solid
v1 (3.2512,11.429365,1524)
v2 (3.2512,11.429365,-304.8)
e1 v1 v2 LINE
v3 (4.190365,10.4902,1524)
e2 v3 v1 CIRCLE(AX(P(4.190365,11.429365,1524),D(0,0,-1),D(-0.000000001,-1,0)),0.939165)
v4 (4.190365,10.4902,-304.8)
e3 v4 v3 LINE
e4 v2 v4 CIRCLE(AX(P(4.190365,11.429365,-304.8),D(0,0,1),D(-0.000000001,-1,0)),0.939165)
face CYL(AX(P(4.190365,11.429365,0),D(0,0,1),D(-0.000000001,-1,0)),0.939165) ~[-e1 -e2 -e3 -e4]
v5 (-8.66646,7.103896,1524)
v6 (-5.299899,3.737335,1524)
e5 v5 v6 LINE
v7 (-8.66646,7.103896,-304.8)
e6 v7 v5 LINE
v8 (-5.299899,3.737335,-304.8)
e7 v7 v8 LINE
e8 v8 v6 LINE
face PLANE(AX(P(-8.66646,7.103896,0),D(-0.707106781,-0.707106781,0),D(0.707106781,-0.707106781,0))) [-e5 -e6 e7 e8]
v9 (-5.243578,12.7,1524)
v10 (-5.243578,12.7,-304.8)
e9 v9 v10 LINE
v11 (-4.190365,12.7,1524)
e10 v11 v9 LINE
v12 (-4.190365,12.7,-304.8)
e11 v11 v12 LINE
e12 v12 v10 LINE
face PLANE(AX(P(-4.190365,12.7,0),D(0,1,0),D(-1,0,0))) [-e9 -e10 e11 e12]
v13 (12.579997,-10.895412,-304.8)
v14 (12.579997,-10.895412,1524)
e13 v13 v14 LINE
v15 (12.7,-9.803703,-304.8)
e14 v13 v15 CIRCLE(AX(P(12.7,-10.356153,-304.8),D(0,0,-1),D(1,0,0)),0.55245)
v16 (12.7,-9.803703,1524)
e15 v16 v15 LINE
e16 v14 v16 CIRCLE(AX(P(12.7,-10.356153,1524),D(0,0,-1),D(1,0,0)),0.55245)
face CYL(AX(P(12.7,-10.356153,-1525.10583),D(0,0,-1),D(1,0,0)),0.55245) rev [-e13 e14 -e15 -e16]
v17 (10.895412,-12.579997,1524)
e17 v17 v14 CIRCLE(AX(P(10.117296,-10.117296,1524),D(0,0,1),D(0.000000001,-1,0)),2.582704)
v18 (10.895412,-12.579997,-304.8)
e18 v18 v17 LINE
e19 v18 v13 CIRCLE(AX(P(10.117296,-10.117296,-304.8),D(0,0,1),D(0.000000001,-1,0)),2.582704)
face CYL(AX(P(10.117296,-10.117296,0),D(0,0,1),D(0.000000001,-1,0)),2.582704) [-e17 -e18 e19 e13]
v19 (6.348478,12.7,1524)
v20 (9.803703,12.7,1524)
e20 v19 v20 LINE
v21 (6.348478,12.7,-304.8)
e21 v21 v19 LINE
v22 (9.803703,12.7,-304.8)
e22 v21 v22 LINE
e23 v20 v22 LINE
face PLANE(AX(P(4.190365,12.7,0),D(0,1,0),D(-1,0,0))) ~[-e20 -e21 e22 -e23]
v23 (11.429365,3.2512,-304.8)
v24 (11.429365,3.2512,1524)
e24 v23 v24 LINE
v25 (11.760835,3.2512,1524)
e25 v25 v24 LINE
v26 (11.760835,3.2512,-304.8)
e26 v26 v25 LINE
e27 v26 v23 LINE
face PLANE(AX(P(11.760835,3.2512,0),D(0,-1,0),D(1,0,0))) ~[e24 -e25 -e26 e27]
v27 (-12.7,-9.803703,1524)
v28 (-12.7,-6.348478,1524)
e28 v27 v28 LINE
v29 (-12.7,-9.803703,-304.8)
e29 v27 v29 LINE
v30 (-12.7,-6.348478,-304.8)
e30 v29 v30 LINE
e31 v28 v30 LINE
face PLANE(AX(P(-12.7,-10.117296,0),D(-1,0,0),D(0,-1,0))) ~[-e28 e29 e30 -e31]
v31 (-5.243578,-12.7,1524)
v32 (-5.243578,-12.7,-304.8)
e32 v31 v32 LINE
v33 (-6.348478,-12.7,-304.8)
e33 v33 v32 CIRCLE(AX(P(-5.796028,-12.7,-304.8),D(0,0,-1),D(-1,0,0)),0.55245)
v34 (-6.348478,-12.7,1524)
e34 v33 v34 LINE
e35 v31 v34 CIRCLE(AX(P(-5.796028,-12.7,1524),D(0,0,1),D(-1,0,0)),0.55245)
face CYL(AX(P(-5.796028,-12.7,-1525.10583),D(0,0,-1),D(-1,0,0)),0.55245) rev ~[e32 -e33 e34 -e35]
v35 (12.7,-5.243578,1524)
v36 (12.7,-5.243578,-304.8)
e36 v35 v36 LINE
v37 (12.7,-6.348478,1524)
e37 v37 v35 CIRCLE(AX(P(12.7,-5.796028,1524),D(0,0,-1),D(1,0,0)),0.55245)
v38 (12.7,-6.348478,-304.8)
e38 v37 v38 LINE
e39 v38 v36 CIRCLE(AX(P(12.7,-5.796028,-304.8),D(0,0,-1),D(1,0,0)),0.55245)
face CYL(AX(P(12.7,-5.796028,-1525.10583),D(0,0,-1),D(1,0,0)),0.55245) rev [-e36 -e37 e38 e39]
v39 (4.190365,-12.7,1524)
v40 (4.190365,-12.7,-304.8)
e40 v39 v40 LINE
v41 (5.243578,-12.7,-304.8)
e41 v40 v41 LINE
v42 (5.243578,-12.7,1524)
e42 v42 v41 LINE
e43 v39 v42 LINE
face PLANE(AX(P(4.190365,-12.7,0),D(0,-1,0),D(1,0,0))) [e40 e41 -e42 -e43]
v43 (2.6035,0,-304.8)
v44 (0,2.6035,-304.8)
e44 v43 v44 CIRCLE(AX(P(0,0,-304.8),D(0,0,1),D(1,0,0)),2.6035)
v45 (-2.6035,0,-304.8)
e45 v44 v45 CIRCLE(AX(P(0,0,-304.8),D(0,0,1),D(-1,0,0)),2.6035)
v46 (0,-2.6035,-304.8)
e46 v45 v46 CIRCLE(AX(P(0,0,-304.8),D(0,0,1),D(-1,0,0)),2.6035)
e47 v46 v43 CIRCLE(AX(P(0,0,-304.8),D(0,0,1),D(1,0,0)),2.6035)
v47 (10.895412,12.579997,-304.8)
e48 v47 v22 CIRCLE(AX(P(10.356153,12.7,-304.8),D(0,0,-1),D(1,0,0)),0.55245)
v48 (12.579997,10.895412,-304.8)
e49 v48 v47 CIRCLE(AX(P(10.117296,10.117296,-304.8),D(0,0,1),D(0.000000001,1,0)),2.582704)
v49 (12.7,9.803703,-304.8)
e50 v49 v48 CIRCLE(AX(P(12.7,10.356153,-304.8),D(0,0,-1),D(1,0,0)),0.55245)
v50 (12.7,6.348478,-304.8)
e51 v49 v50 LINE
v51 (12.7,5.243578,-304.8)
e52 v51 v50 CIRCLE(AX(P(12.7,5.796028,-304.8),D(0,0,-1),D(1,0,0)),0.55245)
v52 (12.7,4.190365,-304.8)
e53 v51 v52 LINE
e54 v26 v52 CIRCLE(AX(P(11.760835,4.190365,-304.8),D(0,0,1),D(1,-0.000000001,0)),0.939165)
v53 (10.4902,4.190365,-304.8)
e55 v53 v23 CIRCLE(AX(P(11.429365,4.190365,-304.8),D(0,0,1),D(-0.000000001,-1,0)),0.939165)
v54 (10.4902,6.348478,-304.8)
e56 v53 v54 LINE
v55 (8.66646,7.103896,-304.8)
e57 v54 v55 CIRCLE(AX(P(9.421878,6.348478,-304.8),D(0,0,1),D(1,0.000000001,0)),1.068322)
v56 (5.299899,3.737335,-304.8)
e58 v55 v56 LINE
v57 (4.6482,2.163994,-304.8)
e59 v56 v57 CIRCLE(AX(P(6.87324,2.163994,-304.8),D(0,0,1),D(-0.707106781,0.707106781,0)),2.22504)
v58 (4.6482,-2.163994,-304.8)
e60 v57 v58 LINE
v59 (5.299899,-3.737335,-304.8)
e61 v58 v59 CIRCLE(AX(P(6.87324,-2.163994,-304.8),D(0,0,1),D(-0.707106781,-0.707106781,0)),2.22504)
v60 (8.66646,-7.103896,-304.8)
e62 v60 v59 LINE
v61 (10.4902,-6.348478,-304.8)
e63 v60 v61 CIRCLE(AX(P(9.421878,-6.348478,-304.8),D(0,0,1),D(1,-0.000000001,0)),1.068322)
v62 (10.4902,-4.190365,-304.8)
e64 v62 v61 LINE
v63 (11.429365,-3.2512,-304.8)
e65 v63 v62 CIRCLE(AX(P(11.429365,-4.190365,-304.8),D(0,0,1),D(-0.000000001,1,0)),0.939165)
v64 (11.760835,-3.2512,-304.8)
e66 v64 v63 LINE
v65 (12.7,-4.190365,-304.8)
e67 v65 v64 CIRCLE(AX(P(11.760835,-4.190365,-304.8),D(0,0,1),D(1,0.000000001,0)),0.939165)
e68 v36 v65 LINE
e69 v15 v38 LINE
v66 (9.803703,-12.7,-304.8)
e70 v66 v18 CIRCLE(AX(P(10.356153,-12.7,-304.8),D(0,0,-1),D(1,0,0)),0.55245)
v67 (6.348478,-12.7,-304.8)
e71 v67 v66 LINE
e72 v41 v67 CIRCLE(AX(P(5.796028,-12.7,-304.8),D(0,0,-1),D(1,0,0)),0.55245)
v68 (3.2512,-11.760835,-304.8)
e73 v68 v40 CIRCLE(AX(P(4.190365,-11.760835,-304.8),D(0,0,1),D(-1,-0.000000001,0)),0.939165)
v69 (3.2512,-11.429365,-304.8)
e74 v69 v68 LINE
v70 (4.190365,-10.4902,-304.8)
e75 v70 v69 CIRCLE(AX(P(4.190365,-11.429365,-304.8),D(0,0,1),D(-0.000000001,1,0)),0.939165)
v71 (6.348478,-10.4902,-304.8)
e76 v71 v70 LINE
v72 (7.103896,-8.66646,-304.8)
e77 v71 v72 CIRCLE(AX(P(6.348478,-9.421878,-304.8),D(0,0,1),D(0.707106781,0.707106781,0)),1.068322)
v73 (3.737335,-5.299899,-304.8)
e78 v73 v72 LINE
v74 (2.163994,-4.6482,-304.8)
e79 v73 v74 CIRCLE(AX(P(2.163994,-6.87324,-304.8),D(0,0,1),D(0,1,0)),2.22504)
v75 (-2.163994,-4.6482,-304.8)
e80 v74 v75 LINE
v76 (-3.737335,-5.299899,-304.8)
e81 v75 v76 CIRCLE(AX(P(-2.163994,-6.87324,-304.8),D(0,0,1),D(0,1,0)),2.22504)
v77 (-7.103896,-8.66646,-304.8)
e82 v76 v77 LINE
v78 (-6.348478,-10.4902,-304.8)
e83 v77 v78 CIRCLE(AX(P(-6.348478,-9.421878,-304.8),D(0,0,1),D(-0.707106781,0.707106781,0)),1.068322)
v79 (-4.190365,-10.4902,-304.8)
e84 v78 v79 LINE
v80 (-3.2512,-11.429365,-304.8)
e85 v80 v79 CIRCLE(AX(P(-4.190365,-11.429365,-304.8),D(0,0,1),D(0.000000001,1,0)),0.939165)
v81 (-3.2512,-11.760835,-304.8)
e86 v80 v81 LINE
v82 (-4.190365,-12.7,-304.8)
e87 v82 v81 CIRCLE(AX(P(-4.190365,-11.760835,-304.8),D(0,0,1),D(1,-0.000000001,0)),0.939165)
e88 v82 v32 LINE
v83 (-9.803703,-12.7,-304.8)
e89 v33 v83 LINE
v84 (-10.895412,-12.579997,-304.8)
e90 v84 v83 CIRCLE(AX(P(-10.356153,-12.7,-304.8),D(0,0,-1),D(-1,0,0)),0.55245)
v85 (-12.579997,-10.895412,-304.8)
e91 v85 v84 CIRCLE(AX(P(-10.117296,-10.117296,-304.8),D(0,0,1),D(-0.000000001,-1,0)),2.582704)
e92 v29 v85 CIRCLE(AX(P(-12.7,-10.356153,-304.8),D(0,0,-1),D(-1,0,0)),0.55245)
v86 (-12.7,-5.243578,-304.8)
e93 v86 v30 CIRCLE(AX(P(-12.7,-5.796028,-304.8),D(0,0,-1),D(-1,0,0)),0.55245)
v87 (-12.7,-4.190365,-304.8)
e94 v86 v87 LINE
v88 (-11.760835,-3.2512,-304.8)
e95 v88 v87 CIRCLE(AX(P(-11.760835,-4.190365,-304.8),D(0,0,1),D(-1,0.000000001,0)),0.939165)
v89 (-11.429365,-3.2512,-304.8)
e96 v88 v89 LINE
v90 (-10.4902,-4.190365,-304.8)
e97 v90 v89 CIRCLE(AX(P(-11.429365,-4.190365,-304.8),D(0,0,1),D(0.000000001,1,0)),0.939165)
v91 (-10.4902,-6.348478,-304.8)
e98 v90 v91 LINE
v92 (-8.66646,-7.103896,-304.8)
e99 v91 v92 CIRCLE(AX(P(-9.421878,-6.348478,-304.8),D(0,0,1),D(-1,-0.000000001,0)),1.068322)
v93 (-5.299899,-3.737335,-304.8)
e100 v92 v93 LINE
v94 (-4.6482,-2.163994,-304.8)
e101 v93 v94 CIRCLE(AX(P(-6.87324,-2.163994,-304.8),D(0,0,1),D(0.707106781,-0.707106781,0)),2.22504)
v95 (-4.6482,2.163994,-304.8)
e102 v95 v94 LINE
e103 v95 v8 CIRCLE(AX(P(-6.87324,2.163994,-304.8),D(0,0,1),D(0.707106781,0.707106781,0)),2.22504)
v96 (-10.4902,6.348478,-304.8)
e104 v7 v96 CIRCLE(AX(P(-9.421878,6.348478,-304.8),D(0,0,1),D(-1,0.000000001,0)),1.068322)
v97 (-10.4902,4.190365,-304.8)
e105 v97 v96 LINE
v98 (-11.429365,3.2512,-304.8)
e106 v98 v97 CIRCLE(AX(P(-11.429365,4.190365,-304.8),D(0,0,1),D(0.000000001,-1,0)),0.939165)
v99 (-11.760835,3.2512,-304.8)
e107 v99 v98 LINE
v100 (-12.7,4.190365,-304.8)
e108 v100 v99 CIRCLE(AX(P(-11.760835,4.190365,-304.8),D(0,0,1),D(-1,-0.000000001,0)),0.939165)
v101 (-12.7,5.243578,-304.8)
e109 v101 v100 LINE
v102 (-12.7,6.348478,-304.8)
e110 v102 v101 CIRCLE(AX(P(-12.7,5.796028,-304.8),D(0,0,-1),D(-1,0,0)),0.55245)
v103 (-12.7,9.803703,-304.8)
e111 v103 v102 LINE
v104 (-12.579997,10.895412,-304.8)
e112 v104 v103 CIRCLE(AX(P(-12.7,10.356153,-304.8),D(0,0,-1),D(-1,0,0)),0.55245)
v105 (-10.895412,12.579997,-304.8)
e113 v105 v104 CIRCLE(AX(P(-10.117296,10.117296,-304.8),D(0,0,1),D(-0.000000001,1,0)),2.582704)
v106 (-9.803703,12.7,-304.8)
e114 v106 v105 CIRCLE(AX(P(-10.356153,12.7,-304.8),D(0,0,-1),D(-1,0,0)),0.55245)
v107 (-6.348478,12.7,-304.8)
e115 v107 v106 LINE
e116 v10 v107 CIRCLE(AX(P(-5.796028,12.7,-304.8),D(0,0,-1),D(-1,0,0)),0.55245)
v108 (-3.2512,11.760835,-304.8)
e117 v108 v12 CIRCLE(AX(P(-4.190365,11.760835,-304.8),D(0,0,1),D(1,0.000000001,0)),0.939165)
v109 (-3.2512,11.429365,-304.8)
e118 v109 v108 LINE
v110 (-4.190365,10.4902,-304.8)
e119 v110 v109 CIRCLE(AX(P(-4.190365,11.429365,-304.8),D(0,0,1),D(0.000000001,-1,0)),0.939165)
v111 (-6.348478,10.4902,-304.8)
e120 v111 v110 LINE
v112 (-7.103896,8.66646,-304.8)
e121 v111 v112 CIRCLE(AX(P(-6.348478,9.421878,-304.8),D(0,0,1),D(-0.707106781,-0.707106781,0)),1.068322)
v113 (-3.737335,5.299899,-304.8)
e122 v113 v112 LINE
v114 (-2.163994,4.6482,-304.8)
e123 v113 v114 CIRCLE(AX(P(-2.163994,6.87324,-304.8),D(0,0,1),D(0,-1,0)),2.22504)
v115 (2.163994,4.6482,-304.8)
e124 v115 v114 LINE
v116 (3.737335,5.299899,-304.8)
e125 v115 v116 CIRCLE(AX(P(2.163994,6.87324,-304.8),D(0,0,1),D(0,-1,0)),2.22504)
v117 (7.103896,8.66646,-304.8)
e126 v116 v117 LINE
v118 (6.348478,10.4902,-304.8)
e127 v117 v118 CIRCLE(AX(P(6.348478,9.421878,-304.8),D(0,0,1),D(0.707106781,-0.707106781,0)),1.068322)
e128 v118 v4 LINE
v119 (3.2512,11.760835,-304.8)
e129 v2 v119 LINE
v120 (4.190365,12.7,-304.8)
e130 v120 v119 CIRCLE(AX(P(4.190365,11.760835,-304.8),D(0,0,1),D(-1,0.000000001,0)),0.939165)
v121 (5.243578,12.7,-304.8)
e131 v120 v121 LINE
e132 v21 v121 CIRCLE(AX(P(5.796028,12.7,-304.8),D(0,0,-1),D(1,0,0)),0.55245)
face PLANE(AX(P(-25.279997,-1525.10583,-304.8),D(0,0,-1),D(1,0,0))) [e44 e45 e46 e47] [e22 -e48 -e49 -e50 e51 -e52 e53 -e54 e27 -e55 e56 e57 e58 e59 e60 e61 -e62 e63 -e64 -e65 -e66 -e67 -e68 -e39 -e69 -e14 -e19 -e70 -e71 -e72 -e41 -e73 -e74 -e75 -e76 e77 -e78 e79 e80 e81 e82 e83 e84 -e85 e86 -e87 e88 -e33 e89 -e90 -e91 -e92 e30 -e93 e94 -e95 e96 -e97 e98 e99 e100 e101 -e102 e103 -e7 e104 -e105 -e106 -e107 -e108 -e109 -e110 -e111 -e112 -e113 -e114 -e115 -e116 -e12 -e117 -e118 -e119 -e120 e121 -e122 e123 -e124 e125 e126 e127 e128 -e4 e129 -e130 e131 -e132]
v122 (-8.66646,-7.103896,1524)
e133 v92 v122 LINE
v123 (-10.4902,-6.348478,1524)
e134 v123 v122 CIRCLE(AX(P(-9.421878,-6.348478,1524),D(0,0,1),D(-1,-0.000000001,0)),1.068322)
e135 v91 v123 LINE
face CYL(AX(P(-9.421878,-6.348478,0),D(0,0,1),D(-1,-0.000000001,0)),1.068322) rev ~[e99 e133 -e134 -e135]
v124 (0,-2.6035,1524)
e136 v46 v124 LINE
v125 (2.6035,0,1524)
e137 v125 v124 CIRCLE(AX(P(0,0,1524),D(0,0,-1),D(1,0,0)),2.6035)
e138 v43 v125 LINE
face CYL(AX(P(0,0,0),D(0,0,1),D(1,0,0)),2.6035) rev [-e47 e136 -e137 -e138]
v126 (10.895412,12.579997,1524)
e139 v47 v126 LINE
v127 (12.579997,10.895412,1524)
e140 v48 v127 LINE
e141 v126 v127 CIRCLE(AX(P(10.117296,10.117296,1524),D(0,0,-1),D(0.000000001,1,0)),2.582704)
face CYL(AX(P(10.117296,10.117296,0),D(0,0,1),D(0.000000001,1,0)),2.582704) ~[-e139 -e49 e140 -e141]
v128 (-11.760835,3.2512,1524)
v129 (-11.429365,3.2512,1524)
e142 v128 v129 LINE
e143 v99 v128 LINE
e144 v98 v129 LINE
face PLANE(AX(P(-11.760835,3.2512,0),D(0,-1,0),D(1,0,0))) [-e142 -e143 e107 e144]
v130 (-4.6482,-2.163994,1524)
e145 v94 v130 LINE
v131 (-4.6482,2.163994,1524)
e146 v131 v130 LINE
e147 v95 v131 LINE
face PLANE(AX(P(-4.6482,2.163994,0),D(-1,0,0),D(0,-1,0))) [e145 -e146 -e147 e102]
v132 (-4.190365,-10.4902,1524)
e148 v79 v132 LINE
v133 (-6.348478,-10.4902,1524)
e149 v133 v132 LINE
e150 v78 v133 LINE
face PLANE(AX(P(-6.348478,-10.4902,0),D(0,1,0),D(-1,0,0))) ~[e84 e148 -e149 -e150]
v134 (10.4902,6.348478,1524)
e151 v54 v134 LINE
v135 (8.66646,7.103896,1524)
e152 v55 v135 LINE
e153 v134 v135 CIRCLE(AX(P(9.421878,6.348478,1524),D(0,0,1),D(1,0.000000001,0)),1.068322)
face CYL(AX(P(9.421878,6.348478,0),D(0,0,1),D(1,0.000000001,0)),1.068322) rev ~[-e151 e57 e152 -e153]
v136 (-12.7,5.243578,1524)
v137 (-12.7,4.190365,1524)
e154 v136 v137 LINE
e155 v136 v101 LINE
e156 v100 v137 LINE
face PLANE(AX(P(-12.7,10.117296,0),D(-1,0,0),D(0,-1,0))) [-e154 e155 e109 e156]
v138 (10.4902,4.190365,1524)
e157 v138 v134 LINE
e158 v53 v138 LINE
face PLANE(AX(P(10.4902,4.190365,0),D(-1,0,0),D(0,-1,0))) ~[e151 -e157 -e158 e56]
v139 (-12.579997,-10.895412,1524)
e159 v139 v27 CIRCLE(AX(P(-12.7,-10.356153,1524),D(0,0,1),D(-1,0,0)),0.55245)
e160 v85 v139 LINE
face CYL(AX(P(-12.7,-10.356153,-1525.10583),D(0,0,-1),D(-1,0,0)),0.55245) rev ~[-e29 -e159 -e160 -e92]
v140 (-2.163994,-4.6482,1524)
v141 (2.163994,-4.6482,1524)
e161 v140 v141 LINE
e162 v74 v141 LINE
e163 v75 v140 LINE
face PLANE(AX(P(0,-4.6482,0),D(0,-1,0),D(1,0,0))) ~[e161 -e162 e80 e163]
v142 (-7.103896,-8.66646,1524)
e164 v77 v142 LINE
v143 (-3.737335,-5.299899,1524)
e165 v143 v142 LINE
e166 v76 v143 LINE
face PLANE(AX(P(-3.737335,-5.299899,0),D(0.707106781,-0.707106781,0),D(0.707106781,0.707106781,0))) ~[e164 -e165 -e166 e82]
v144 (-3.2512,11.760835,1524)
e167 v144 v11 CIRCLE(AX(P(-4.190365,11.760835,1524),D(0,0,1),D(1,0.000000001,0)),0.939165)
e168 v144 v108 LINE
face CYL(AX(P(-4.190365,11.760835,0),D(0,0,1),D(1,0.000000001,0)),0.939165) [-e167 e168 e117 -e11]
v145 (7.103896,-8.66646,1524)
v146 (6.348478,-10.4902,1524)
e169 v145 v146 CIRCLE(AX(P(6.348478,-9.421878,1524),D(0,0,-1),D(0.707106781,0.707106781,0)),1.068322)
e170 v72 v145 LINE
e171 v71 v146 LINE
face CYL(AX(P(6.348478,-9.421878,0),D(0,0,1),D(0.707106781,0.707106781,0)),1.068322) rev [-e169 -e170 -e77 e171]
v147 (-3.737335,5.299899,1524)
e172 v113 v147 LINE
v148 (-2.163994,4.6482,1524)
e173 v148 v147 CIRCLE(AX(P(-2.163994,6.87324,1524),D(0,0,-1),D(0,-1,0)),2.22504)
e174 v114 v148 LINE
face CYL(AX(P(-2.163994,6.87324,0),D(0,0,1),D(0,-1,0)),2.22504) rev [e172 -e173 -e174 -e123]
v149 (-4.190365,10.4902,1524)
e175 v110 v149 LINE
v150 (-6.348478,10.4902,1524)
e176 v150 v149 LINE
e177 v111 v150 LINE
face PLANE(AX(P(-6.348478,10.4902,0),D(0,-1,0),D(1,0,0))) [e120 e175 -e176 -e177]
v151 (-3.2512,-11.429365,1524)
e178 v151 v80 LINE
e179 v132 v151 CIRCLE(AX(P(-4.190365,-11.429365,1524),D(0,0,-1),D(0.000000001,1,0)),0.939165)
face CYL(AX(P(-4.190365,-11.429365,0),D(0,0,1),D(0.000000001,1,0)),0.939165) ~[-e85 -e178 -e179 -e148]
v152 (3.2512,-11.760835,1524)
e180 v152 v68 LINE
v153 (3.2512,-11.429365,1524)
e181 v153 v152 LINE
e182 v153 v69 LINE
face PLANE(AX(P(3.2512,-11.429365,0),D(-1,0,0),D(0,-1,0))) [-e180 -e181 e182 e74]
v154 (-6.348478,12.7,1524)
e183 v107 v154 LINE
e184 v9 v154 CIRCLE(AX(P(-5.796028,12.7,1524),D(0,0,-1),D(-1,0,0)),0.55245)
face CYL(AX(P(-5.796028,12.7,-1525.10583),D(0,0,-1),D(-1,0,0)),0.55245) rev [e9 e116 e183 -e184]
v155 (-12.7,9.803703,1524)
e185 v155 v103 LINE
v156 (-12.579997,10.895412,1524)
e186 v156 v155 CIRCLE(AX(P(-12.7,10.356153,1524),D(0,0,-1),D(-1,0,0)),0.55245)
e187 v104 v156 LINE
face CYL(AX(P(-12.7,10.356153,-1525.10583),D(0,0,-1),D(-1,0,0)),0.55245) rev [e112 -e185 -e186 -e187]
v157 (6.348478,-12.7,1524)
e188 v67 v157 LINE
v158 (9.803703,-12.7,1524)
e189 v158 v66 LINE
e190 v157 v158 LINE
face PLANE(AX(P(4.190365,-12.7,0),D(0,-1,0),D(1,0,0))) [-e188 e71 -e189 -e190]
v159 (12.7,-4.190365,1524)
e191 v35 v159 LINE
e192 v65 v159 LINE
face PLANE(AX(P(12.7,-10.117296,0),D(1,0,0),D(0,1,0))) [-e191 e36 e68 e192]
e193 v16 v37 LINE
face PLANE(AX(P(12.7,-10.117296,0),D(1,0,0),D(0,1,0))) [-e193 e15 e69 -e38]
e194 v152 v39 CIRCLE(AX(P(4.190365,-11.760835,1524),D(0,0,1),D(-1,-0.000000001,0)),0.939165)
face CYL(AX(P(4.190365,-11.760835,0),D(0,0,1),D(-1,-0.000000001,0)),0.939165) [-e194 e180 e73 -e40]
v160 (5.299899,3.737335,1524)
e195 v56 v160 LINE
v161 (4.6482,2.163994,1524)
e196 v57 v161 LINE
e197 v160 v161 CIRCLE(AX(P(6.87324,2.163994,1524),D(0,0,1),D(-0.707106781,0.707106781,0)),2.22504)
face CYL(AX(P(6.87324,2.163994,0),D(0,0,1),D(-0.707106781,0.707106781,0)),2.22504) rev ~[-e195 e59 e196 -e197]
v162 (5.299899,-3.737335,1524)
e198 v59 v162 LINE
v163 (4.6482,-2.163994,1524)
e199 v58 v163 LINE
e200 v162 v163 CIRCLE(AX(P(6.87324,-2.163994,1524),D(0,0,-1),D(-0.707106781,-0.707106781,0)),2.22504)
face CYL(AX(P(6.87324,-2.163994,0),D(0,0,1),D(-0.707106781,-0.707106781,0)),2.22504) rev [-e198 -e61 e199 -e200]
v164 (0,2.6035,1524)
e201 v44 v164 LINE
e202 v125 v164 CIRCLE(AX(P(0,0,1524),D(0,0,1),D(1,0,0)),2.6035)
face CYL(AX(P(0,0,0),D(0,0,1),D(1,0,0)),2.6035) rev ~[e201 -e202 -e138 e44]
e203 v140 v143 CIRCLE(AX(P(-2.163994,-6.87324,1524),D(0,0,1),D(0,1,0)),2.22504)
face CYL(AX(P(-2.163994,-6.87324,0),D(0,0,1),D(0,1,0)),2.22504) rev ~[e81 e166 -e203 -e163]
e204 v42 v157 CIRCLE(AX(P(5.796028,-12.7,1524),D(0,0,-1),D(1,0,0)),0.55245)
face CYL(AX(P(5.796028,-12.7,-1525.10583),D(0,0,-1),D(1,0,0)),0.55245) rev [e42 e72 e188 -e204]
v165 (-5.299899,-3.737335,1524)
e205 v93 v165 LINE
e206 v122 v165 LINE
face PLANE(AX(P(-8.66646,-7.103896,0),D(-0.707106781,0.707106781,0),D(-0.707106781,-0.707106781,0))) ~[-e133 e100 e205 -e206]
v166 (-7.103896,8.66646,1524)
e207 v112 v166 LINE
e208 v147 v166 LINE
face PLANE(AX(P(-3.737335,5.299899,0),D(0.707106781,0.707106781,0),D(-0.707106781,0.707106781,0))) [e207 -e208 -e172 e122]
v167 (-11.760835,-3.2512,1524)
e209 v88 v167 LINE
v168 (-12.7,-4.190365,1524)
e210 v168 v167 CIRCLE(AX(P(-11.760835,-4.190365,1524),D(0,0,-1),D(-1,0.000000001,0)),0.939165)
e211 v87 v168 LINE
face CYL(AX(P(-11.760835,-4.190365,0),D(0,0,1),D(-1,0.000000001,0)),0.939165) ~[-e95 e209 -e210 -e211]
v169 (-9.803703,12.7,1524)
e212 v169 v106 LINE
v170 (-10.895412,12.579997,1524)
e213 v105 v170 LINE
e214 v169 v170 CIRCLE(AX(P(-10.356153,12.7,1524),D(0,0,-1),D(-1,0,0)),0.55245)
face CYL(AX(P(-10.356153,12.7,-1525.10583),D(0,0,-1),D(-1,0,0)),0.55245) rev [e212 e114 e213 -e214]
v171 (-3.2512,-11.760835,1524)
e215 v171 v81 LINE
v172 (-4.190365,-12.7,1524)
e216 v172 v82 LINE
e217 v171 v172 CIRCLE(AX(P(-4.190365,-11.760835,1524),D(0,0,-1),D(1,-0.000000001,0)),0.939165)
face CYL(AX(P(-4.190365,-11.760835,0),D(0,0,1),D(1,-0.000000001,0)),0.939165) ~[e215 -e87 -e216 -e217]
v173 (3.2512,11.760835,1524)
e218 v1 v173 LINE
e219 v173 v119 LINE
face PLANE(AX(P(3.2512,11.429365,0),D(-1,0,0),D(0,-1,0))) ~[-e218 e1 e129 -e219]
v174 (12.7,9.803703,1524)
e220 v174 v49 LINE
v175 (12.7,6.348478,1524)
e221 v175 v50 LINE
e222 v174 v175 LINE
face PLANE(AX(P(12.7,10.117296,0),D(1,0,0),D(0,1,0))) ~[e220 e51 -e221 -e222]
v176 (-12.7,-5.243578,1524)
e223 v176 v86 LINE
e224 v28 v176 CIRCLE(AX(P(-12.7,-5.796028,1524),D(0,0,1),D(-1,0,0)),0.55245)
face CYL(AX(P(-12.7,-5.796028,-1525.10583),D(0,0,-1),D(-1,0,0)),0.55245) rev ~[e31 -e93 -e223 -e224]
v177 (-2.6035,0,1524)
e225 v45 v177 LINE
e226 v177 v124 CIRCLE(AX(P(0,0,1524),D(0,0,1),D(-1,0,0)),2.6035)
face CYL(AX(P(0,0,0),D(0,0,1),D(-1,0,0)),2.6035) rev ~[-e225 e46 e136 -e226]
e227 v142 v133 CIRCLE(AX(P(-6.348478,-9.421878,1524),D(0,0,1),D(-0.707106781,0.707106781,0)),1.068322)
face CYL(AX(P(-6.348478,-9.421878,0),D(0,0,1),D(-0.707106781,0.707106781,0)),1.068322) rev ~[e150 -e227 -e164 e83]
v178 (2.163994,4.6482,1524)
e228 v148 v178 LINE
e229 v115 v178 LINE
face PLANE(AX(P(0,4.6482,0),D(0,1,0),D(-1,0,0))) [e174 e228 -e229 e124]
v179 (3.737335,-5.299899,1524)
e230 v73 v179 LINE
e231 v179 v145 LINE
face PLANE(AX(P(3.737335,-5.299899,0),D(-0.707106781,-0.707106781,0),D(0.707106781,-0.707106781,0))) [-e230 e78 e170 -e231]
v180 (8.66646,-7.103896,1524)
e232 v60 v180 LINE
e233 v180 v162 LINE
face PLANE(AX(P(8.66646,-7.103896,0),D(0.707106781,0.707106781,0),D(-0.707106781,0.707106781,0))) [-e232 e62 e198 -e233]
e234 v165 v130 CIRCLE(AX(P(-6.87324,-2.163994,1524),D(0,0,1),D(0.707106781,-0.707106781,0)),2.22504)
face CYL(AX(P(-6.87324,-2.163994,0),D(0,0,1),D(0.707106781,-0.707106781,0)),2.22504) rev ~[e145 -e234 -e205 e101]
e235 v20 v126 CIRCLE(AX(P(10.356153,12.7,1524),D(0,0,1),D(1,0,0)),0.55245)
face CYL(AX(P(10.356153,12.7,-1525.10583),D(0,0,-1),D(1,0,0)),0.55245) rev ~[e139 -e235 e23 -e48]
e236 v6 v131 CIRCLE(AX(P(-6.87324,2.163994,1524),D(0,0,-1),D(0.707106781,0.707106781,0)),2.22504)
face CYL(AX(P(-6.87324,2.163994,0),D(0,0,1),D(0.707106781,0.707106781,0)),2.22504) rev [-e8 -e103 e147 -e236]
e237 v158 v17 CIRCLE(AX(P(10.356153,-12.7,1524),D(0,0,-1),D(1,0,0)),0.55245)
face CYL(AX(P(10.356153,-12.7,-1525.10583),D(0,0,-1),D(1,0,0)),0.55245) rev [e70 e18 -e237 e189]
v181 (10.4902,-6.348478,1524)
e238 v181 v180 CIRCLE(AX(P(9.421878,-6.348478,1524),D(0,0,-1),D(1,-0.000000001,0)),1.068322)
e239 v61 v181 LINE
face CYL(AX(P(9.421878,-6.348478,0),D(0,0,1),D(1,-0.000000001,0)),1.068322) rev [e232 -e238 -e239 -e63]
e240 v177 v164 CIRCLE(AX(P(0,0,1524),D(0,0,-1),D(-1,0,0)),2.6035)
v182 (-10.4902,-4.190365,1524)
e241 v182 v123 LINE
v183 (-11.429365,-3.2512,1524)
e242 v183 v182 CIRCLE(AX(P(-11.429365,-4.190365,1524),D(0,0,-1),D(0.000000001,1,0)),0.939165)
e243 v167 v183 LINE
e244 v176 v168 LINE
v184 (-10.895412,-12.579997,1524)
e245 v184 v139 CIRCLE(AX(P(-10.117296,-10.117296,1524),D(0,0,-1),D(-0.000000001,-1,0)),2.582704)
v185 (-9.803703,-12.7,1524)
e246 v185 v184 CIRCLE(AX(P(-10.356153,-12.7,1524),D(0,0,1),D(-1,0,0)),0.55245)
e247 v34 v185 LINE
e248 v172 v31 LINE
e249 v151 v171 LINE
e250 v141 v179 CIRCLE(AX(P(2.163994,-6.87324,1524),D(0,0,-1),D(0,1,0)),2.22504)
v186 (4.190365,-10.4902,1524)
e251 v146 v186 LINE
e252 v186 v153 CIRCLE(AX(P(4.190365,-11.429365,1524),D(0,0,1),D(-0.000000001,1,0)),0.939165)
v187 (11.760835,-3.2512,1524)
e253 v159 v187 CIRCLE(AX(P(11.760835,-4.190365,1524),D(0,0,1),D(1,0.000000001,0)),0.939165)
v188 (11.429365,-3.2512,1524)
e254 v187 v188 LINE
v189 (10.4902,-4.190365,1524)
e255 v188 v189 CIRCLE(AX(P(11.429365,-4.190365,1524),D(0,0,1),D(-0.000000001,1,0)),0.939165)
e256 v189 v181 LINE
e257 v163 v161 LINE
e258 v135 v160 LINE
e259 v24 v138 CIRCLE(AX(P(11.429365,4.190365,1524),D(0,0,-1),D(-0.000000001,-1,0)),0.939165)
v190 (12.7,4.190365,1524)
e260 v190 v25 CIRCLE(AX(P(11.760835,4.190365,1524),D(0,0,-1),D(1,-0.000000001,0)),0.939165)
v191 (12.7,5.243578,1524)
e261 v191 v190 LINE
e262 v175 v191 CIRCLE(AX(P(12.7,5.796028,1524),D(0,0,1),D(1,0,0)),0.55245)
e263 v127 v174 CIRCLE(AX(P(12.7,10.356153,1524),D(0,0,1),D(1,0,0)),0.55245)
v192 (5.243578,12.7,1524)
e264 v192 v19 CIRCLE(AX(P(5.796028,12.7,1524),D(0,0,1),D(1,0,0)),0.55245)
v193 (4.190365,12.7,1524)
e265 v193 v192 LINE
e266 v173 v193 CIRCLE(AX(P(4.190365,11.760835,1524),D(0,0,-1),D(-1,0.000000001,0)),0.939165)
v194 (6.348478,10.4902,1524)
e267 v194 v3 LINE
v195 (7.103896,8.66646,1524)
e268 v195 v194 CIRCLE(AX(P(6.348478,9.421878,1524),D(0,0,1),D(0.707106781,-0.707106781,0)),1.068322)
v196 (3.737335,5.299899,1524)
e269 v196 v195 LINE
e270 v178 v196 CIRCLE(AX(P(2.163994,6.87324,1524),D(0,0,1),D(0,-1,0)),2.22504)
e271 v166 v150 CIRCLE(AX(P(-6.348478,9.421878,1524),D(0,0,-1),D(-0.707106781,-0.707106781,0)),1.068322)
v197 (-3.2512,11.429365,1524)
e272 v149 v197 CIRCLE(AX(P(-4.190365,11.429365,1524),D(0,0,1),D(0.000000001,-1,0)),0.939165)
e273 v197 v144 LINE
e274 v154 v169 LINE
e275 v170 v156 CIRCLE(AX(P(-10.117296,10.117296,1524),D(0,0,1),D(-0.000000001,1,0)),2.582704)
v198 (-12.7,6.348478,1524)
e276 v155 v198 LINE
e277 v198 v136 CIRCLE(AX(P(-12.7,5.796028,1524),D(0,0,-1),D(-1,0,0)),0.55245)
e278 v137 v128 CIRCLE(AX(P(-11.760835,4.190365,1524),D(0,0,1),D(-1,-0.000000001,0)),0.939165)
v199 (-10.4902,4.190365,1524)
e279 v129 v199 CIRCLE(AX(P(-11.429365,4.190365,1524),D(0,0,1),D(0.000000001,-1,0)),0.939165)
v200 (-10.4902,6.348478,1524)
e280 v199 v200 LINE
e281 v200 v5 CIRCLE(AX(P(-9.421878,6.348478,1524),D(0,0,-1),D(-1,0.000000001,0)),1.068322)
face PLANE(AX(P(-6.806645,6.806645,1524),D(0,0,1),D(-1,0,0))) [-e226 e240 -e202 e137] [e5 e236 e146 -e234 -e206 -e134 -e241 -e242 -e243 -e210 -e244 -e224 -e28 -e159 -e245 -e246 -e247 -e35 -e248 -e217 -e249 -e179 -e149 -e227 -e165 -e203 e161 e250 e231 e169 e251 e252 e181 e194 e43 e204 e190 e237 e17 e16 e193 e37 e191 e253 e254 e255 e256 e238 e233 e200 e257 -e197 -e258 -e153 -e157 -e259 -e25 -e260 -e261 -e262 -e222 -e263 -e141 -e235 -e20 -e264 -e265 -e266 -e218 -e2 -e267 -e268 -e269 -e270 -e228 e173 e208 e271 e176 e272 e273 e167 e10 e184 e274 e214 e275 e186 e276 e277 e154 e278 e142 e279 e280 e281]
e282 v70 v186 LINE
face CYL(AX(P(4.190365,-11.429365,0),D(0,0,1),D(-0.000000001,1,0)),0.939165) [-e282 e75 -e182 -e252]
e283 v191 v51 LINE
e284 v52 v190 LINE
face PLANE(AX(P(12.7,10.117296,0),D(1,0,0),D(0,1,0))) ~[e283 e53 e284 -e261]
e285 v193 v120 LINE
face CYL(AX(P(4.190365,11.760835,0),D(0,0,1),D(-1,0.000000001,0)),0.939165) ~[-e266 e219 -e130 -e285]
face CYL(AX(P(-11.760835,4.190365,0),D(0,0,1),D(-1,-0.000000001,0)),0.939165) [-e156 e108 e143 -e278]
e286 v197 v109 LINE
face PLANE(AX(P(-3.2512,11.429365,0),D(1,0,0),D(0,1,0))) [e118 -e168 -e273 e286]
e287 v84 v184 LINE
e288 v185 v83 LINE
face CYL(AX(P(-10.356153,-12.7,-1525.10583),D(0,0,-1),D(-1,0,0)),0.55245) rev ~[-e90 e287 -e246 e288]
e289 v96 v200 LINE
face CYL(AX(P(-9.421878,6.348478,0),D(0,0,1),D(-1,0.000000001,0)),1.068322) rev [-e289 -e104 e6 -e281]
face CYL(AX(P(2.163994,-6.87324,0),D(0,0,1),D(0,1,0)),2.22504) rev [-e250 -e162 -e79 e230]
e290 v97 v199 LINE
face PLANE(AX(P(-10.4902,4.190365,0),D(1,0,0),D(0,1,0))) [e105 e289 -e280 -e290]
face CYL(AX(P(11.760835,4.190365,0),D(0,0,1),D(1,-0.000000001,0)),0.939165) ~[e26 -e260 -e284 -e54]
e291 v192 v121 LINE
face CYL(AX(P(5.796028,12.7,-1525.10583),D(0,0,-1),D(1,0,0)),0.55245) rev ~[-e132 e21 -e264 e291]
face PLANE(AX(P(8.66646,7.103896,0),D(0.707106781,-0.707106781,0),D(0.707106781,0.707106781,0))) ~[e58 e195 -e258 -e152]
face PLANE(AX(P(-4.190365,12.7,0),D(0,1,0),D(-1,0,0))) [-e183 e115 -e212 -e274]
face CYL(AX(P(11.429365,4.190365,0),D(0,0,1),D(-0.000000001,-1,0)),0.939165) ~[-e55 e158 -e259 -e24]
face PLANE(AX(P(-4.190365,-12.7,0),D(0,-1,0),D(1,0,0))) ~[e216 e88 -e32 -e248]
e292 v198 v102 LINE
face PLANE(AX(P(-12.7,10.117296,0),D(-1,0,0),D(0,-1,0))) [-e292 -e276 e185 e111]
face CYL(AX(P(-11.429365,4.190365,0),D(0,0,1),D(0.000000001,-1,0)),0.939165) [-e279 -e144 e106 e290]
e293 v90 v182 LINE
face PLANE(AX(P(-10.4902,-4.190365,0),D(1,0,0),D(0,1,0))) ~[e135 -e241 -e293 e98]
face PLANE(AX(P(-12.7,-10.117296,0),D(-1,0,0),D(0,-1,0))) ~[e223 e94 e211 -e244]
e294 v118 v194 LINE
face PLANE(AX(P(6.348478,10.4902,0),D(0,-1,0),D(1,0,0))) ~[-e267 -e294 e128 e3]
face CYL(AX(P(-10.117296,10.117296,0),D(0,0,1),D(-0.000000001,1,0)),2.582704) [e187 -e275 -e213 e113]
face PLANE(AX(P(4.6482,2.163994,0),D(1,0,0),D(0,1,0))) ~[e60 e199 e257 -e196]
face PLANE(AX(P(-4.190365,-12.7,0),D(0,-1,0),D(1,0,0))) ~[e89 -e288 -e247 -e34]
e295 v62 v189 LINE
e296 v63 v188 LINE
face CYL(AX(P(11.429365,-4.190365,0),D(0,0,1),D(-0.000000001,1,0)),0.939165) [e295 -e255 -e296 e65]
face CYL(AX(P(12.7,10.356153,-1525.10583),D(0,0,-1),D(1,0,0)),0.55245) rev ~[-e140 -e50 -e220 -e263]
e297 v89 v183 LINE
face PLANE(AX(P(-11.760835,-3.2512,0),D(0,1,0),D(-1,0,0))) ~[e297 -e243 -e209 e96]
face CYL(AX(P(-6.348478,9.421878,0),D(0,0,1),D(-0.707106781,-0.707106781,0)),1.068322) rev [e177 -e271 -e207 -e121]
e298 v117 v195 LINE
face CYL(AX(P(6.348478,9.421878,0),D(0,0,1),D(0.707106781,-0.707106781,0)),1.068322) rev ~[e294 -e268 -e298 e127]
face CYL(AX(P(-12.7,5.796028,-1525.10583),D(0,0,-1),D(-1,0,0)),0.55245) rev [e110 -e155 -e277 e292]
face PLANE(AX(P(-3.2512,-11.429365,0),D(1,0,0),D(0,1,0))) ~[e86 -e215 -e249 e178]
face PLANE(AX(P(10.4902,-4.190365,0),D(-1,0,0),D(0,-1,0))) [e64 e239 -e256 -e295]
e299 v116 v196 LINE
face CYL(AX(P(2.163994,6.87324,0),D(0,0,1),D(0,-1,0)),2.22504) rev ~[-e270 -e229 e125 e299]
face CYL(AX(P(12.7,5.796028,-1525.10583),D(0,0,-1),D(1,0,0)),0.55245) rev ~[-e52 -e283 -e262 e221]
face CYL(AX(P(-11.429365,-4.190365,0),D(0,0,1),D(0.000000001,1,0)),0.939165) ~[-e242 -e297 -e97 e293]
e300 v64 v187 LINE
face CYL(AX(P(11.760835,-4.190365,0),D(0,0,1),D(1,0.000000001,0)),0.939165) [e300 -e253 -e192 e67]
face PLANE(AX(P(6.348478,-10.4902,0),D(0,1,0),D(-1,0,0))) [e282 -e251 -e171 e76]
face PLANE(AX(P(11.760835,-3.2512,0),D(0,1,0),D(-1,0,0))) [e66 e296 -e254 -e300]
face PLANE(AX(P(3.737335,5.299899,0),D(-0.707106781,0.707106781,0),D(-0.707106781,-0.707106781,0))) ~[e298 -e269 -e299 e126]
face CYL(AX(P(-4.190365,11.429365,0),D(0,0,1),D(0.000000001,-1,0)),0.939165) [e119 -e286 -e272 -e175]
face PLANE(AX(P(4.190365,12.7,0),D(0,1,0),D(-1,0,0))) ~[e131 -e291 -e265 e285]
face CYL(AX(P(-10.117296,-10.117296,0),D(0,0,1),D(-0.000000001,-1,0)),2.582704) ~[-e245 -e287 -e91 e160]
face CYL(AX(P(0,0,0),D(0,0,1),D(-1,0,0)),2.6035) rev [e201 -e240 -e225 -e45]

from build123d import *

# Parameters (mm, degrees)
BOSS_EXTRUDE1_DEPTH     = 1524
CUT_EXTRUDE1_DEPTH      = 1525.105829659
CUT_EXTRUDE1_DEPTH_BACK = 1525.105829659
SKETCH5_R               = 0.55245
CUT_EXTRUDE2_DEPTH      = 1525.105829659
CUT_EXTRUDE2_DEPTH_BACK = 1525.105829659
SKETCH8_W               = 50.559993734
SKETCH8_H               = 1231.9


with BuildPart() as part:
    # Sketch4 → Boss-Extrude1 (new, symmetric)
    with BuildSketch(Plane.XY):
        with BuildLine():
            Line((4.190365, -12.7), (10.11729625, -12.7))
            ThreePointArc((10.11729625, -12.7), (11.943543585, -11.943543585), (12.7, -10.11729625))
            Line((12.7, -10.11729625), (12.7, -4.190365))
            ThreePointArc((12.7, -4.190365), (12.42492494, -3.52627506), (11.760835, -3.2512))
            Line((11.760835, -3.2512), (11.429365, -3.2512))
            ThreePointArc((11.429365, -3.2512), (10.76527506, -3.52627506), (10.4902, -4.190365))
            Line((10.4902, -4.190365), (10.4902, -6.348478019))
            ThreePointArc((10.4902, -6.348478019), (9.830707141, -7.335478831), (8.666460301, -7.103895736))
            Line((8.666460301, -7.103895736), (5.299899128, -3.737334563))
            ThreePointArc((5.299899128, -3.737334563), (4.817571085, -3.015479634), (4.6482, -2.16399369))
            Line((4.6482, -2.16399369), (4.6482, 0))
            Line((4.6482, 0), (2.6035, 0))
            ThreePointArc((2.6035, 0), (1.840952505, -1.840952505), (0, -2.6035))
            Line((0, -2.6035), (0, -4.6482))
            Line((0, -4.6482), (2.16399369, -4.6482))
            ThreePointArc((2.16399369, -4.6482), (3.015479634, -4.817571085), (3.737334563, -5.299899128))
            Line((3.737334563, -5.299899128), (7.103895736, -8.666460301))
            ThreePointArc((7.103895736, -8.666460301), (7.335478831, -9.830707141), (6.348478019, -10.4902))
            Line((6.348478019, -10.4902), (4.190365, -10.4902))
            ThreePointArc((4.190365, -10.4902), (3.52627506, -10.76527506), (3.2512, -11.429365))
            Line((3.2512, -11.429365), (3.2512, -11.760835))
            ThreePointArc((3.2512, -11.760835), (3.52627506, -12.42492494), (4.190365, -12.7))
        make_face()
    extrude(amount=BOSS_EXTRUDE1_DEPTH, both=True)

    # Sketch5 → Cut-Extrude1 (cut, two sides: drawn at the far end of the back side and taken through both)
    with BuildSketch(Plane.XY.offset(-CUT_EXTRUDE1_DEPTH_BACK)):
        with Locations((10.356153152, -12.7)):
            Circle(SKETCH5_R)
        with Locations((5.796028019, -12.7)):
            Circle(SKETCH5_R)
        with Locations((12.7, -10.356153152)):
            Circle(SKETCH5_R)
        with Locations((12.7, -5.796028019)):
            Circle(SKETCH5_R)
    extrude(amount=CUT_EXTRUDE1_DEPTH + CUT_EXTRUDE1_DEPTH_BACK, mode=Mode.SUBTRACT)

    # Mirror1: part across plane


with BuildPart() as part_1:
    add(part.part)
    add(part.part.mirror(Plane(origin=(0, 0, 0), x_dir=(0, 0, 1), z_dir=(1, 0, 0))))

    # Mirror2: part across plane


with BuildPart() as part_2:
    add(part_1.part)
    add(part_1.part.mirror(Plane.ZX))

    # Sketch8 → Cut-Extrude2 (cut, two sides: drawn at the far end of the back side and taken through both)
    with BuildSketch(Plane(origin=(0, 0, 0), x_dir=(1, 0, 0), z_dir=(0, 1, 0)).offset(-CUT_EXTRUDE2_DEPTH_BACK)):
        with Locations((0, 920.75)):
            Rectangle(SKETCH8_W, SKETCH8_H)
    extrude(amount=CUT_EXTRUDE2_DEPTH + CUT_EXTRUDE2_DEPTH_BACK, mode=Mode.SUBTRACT)


solid = part_2.part
